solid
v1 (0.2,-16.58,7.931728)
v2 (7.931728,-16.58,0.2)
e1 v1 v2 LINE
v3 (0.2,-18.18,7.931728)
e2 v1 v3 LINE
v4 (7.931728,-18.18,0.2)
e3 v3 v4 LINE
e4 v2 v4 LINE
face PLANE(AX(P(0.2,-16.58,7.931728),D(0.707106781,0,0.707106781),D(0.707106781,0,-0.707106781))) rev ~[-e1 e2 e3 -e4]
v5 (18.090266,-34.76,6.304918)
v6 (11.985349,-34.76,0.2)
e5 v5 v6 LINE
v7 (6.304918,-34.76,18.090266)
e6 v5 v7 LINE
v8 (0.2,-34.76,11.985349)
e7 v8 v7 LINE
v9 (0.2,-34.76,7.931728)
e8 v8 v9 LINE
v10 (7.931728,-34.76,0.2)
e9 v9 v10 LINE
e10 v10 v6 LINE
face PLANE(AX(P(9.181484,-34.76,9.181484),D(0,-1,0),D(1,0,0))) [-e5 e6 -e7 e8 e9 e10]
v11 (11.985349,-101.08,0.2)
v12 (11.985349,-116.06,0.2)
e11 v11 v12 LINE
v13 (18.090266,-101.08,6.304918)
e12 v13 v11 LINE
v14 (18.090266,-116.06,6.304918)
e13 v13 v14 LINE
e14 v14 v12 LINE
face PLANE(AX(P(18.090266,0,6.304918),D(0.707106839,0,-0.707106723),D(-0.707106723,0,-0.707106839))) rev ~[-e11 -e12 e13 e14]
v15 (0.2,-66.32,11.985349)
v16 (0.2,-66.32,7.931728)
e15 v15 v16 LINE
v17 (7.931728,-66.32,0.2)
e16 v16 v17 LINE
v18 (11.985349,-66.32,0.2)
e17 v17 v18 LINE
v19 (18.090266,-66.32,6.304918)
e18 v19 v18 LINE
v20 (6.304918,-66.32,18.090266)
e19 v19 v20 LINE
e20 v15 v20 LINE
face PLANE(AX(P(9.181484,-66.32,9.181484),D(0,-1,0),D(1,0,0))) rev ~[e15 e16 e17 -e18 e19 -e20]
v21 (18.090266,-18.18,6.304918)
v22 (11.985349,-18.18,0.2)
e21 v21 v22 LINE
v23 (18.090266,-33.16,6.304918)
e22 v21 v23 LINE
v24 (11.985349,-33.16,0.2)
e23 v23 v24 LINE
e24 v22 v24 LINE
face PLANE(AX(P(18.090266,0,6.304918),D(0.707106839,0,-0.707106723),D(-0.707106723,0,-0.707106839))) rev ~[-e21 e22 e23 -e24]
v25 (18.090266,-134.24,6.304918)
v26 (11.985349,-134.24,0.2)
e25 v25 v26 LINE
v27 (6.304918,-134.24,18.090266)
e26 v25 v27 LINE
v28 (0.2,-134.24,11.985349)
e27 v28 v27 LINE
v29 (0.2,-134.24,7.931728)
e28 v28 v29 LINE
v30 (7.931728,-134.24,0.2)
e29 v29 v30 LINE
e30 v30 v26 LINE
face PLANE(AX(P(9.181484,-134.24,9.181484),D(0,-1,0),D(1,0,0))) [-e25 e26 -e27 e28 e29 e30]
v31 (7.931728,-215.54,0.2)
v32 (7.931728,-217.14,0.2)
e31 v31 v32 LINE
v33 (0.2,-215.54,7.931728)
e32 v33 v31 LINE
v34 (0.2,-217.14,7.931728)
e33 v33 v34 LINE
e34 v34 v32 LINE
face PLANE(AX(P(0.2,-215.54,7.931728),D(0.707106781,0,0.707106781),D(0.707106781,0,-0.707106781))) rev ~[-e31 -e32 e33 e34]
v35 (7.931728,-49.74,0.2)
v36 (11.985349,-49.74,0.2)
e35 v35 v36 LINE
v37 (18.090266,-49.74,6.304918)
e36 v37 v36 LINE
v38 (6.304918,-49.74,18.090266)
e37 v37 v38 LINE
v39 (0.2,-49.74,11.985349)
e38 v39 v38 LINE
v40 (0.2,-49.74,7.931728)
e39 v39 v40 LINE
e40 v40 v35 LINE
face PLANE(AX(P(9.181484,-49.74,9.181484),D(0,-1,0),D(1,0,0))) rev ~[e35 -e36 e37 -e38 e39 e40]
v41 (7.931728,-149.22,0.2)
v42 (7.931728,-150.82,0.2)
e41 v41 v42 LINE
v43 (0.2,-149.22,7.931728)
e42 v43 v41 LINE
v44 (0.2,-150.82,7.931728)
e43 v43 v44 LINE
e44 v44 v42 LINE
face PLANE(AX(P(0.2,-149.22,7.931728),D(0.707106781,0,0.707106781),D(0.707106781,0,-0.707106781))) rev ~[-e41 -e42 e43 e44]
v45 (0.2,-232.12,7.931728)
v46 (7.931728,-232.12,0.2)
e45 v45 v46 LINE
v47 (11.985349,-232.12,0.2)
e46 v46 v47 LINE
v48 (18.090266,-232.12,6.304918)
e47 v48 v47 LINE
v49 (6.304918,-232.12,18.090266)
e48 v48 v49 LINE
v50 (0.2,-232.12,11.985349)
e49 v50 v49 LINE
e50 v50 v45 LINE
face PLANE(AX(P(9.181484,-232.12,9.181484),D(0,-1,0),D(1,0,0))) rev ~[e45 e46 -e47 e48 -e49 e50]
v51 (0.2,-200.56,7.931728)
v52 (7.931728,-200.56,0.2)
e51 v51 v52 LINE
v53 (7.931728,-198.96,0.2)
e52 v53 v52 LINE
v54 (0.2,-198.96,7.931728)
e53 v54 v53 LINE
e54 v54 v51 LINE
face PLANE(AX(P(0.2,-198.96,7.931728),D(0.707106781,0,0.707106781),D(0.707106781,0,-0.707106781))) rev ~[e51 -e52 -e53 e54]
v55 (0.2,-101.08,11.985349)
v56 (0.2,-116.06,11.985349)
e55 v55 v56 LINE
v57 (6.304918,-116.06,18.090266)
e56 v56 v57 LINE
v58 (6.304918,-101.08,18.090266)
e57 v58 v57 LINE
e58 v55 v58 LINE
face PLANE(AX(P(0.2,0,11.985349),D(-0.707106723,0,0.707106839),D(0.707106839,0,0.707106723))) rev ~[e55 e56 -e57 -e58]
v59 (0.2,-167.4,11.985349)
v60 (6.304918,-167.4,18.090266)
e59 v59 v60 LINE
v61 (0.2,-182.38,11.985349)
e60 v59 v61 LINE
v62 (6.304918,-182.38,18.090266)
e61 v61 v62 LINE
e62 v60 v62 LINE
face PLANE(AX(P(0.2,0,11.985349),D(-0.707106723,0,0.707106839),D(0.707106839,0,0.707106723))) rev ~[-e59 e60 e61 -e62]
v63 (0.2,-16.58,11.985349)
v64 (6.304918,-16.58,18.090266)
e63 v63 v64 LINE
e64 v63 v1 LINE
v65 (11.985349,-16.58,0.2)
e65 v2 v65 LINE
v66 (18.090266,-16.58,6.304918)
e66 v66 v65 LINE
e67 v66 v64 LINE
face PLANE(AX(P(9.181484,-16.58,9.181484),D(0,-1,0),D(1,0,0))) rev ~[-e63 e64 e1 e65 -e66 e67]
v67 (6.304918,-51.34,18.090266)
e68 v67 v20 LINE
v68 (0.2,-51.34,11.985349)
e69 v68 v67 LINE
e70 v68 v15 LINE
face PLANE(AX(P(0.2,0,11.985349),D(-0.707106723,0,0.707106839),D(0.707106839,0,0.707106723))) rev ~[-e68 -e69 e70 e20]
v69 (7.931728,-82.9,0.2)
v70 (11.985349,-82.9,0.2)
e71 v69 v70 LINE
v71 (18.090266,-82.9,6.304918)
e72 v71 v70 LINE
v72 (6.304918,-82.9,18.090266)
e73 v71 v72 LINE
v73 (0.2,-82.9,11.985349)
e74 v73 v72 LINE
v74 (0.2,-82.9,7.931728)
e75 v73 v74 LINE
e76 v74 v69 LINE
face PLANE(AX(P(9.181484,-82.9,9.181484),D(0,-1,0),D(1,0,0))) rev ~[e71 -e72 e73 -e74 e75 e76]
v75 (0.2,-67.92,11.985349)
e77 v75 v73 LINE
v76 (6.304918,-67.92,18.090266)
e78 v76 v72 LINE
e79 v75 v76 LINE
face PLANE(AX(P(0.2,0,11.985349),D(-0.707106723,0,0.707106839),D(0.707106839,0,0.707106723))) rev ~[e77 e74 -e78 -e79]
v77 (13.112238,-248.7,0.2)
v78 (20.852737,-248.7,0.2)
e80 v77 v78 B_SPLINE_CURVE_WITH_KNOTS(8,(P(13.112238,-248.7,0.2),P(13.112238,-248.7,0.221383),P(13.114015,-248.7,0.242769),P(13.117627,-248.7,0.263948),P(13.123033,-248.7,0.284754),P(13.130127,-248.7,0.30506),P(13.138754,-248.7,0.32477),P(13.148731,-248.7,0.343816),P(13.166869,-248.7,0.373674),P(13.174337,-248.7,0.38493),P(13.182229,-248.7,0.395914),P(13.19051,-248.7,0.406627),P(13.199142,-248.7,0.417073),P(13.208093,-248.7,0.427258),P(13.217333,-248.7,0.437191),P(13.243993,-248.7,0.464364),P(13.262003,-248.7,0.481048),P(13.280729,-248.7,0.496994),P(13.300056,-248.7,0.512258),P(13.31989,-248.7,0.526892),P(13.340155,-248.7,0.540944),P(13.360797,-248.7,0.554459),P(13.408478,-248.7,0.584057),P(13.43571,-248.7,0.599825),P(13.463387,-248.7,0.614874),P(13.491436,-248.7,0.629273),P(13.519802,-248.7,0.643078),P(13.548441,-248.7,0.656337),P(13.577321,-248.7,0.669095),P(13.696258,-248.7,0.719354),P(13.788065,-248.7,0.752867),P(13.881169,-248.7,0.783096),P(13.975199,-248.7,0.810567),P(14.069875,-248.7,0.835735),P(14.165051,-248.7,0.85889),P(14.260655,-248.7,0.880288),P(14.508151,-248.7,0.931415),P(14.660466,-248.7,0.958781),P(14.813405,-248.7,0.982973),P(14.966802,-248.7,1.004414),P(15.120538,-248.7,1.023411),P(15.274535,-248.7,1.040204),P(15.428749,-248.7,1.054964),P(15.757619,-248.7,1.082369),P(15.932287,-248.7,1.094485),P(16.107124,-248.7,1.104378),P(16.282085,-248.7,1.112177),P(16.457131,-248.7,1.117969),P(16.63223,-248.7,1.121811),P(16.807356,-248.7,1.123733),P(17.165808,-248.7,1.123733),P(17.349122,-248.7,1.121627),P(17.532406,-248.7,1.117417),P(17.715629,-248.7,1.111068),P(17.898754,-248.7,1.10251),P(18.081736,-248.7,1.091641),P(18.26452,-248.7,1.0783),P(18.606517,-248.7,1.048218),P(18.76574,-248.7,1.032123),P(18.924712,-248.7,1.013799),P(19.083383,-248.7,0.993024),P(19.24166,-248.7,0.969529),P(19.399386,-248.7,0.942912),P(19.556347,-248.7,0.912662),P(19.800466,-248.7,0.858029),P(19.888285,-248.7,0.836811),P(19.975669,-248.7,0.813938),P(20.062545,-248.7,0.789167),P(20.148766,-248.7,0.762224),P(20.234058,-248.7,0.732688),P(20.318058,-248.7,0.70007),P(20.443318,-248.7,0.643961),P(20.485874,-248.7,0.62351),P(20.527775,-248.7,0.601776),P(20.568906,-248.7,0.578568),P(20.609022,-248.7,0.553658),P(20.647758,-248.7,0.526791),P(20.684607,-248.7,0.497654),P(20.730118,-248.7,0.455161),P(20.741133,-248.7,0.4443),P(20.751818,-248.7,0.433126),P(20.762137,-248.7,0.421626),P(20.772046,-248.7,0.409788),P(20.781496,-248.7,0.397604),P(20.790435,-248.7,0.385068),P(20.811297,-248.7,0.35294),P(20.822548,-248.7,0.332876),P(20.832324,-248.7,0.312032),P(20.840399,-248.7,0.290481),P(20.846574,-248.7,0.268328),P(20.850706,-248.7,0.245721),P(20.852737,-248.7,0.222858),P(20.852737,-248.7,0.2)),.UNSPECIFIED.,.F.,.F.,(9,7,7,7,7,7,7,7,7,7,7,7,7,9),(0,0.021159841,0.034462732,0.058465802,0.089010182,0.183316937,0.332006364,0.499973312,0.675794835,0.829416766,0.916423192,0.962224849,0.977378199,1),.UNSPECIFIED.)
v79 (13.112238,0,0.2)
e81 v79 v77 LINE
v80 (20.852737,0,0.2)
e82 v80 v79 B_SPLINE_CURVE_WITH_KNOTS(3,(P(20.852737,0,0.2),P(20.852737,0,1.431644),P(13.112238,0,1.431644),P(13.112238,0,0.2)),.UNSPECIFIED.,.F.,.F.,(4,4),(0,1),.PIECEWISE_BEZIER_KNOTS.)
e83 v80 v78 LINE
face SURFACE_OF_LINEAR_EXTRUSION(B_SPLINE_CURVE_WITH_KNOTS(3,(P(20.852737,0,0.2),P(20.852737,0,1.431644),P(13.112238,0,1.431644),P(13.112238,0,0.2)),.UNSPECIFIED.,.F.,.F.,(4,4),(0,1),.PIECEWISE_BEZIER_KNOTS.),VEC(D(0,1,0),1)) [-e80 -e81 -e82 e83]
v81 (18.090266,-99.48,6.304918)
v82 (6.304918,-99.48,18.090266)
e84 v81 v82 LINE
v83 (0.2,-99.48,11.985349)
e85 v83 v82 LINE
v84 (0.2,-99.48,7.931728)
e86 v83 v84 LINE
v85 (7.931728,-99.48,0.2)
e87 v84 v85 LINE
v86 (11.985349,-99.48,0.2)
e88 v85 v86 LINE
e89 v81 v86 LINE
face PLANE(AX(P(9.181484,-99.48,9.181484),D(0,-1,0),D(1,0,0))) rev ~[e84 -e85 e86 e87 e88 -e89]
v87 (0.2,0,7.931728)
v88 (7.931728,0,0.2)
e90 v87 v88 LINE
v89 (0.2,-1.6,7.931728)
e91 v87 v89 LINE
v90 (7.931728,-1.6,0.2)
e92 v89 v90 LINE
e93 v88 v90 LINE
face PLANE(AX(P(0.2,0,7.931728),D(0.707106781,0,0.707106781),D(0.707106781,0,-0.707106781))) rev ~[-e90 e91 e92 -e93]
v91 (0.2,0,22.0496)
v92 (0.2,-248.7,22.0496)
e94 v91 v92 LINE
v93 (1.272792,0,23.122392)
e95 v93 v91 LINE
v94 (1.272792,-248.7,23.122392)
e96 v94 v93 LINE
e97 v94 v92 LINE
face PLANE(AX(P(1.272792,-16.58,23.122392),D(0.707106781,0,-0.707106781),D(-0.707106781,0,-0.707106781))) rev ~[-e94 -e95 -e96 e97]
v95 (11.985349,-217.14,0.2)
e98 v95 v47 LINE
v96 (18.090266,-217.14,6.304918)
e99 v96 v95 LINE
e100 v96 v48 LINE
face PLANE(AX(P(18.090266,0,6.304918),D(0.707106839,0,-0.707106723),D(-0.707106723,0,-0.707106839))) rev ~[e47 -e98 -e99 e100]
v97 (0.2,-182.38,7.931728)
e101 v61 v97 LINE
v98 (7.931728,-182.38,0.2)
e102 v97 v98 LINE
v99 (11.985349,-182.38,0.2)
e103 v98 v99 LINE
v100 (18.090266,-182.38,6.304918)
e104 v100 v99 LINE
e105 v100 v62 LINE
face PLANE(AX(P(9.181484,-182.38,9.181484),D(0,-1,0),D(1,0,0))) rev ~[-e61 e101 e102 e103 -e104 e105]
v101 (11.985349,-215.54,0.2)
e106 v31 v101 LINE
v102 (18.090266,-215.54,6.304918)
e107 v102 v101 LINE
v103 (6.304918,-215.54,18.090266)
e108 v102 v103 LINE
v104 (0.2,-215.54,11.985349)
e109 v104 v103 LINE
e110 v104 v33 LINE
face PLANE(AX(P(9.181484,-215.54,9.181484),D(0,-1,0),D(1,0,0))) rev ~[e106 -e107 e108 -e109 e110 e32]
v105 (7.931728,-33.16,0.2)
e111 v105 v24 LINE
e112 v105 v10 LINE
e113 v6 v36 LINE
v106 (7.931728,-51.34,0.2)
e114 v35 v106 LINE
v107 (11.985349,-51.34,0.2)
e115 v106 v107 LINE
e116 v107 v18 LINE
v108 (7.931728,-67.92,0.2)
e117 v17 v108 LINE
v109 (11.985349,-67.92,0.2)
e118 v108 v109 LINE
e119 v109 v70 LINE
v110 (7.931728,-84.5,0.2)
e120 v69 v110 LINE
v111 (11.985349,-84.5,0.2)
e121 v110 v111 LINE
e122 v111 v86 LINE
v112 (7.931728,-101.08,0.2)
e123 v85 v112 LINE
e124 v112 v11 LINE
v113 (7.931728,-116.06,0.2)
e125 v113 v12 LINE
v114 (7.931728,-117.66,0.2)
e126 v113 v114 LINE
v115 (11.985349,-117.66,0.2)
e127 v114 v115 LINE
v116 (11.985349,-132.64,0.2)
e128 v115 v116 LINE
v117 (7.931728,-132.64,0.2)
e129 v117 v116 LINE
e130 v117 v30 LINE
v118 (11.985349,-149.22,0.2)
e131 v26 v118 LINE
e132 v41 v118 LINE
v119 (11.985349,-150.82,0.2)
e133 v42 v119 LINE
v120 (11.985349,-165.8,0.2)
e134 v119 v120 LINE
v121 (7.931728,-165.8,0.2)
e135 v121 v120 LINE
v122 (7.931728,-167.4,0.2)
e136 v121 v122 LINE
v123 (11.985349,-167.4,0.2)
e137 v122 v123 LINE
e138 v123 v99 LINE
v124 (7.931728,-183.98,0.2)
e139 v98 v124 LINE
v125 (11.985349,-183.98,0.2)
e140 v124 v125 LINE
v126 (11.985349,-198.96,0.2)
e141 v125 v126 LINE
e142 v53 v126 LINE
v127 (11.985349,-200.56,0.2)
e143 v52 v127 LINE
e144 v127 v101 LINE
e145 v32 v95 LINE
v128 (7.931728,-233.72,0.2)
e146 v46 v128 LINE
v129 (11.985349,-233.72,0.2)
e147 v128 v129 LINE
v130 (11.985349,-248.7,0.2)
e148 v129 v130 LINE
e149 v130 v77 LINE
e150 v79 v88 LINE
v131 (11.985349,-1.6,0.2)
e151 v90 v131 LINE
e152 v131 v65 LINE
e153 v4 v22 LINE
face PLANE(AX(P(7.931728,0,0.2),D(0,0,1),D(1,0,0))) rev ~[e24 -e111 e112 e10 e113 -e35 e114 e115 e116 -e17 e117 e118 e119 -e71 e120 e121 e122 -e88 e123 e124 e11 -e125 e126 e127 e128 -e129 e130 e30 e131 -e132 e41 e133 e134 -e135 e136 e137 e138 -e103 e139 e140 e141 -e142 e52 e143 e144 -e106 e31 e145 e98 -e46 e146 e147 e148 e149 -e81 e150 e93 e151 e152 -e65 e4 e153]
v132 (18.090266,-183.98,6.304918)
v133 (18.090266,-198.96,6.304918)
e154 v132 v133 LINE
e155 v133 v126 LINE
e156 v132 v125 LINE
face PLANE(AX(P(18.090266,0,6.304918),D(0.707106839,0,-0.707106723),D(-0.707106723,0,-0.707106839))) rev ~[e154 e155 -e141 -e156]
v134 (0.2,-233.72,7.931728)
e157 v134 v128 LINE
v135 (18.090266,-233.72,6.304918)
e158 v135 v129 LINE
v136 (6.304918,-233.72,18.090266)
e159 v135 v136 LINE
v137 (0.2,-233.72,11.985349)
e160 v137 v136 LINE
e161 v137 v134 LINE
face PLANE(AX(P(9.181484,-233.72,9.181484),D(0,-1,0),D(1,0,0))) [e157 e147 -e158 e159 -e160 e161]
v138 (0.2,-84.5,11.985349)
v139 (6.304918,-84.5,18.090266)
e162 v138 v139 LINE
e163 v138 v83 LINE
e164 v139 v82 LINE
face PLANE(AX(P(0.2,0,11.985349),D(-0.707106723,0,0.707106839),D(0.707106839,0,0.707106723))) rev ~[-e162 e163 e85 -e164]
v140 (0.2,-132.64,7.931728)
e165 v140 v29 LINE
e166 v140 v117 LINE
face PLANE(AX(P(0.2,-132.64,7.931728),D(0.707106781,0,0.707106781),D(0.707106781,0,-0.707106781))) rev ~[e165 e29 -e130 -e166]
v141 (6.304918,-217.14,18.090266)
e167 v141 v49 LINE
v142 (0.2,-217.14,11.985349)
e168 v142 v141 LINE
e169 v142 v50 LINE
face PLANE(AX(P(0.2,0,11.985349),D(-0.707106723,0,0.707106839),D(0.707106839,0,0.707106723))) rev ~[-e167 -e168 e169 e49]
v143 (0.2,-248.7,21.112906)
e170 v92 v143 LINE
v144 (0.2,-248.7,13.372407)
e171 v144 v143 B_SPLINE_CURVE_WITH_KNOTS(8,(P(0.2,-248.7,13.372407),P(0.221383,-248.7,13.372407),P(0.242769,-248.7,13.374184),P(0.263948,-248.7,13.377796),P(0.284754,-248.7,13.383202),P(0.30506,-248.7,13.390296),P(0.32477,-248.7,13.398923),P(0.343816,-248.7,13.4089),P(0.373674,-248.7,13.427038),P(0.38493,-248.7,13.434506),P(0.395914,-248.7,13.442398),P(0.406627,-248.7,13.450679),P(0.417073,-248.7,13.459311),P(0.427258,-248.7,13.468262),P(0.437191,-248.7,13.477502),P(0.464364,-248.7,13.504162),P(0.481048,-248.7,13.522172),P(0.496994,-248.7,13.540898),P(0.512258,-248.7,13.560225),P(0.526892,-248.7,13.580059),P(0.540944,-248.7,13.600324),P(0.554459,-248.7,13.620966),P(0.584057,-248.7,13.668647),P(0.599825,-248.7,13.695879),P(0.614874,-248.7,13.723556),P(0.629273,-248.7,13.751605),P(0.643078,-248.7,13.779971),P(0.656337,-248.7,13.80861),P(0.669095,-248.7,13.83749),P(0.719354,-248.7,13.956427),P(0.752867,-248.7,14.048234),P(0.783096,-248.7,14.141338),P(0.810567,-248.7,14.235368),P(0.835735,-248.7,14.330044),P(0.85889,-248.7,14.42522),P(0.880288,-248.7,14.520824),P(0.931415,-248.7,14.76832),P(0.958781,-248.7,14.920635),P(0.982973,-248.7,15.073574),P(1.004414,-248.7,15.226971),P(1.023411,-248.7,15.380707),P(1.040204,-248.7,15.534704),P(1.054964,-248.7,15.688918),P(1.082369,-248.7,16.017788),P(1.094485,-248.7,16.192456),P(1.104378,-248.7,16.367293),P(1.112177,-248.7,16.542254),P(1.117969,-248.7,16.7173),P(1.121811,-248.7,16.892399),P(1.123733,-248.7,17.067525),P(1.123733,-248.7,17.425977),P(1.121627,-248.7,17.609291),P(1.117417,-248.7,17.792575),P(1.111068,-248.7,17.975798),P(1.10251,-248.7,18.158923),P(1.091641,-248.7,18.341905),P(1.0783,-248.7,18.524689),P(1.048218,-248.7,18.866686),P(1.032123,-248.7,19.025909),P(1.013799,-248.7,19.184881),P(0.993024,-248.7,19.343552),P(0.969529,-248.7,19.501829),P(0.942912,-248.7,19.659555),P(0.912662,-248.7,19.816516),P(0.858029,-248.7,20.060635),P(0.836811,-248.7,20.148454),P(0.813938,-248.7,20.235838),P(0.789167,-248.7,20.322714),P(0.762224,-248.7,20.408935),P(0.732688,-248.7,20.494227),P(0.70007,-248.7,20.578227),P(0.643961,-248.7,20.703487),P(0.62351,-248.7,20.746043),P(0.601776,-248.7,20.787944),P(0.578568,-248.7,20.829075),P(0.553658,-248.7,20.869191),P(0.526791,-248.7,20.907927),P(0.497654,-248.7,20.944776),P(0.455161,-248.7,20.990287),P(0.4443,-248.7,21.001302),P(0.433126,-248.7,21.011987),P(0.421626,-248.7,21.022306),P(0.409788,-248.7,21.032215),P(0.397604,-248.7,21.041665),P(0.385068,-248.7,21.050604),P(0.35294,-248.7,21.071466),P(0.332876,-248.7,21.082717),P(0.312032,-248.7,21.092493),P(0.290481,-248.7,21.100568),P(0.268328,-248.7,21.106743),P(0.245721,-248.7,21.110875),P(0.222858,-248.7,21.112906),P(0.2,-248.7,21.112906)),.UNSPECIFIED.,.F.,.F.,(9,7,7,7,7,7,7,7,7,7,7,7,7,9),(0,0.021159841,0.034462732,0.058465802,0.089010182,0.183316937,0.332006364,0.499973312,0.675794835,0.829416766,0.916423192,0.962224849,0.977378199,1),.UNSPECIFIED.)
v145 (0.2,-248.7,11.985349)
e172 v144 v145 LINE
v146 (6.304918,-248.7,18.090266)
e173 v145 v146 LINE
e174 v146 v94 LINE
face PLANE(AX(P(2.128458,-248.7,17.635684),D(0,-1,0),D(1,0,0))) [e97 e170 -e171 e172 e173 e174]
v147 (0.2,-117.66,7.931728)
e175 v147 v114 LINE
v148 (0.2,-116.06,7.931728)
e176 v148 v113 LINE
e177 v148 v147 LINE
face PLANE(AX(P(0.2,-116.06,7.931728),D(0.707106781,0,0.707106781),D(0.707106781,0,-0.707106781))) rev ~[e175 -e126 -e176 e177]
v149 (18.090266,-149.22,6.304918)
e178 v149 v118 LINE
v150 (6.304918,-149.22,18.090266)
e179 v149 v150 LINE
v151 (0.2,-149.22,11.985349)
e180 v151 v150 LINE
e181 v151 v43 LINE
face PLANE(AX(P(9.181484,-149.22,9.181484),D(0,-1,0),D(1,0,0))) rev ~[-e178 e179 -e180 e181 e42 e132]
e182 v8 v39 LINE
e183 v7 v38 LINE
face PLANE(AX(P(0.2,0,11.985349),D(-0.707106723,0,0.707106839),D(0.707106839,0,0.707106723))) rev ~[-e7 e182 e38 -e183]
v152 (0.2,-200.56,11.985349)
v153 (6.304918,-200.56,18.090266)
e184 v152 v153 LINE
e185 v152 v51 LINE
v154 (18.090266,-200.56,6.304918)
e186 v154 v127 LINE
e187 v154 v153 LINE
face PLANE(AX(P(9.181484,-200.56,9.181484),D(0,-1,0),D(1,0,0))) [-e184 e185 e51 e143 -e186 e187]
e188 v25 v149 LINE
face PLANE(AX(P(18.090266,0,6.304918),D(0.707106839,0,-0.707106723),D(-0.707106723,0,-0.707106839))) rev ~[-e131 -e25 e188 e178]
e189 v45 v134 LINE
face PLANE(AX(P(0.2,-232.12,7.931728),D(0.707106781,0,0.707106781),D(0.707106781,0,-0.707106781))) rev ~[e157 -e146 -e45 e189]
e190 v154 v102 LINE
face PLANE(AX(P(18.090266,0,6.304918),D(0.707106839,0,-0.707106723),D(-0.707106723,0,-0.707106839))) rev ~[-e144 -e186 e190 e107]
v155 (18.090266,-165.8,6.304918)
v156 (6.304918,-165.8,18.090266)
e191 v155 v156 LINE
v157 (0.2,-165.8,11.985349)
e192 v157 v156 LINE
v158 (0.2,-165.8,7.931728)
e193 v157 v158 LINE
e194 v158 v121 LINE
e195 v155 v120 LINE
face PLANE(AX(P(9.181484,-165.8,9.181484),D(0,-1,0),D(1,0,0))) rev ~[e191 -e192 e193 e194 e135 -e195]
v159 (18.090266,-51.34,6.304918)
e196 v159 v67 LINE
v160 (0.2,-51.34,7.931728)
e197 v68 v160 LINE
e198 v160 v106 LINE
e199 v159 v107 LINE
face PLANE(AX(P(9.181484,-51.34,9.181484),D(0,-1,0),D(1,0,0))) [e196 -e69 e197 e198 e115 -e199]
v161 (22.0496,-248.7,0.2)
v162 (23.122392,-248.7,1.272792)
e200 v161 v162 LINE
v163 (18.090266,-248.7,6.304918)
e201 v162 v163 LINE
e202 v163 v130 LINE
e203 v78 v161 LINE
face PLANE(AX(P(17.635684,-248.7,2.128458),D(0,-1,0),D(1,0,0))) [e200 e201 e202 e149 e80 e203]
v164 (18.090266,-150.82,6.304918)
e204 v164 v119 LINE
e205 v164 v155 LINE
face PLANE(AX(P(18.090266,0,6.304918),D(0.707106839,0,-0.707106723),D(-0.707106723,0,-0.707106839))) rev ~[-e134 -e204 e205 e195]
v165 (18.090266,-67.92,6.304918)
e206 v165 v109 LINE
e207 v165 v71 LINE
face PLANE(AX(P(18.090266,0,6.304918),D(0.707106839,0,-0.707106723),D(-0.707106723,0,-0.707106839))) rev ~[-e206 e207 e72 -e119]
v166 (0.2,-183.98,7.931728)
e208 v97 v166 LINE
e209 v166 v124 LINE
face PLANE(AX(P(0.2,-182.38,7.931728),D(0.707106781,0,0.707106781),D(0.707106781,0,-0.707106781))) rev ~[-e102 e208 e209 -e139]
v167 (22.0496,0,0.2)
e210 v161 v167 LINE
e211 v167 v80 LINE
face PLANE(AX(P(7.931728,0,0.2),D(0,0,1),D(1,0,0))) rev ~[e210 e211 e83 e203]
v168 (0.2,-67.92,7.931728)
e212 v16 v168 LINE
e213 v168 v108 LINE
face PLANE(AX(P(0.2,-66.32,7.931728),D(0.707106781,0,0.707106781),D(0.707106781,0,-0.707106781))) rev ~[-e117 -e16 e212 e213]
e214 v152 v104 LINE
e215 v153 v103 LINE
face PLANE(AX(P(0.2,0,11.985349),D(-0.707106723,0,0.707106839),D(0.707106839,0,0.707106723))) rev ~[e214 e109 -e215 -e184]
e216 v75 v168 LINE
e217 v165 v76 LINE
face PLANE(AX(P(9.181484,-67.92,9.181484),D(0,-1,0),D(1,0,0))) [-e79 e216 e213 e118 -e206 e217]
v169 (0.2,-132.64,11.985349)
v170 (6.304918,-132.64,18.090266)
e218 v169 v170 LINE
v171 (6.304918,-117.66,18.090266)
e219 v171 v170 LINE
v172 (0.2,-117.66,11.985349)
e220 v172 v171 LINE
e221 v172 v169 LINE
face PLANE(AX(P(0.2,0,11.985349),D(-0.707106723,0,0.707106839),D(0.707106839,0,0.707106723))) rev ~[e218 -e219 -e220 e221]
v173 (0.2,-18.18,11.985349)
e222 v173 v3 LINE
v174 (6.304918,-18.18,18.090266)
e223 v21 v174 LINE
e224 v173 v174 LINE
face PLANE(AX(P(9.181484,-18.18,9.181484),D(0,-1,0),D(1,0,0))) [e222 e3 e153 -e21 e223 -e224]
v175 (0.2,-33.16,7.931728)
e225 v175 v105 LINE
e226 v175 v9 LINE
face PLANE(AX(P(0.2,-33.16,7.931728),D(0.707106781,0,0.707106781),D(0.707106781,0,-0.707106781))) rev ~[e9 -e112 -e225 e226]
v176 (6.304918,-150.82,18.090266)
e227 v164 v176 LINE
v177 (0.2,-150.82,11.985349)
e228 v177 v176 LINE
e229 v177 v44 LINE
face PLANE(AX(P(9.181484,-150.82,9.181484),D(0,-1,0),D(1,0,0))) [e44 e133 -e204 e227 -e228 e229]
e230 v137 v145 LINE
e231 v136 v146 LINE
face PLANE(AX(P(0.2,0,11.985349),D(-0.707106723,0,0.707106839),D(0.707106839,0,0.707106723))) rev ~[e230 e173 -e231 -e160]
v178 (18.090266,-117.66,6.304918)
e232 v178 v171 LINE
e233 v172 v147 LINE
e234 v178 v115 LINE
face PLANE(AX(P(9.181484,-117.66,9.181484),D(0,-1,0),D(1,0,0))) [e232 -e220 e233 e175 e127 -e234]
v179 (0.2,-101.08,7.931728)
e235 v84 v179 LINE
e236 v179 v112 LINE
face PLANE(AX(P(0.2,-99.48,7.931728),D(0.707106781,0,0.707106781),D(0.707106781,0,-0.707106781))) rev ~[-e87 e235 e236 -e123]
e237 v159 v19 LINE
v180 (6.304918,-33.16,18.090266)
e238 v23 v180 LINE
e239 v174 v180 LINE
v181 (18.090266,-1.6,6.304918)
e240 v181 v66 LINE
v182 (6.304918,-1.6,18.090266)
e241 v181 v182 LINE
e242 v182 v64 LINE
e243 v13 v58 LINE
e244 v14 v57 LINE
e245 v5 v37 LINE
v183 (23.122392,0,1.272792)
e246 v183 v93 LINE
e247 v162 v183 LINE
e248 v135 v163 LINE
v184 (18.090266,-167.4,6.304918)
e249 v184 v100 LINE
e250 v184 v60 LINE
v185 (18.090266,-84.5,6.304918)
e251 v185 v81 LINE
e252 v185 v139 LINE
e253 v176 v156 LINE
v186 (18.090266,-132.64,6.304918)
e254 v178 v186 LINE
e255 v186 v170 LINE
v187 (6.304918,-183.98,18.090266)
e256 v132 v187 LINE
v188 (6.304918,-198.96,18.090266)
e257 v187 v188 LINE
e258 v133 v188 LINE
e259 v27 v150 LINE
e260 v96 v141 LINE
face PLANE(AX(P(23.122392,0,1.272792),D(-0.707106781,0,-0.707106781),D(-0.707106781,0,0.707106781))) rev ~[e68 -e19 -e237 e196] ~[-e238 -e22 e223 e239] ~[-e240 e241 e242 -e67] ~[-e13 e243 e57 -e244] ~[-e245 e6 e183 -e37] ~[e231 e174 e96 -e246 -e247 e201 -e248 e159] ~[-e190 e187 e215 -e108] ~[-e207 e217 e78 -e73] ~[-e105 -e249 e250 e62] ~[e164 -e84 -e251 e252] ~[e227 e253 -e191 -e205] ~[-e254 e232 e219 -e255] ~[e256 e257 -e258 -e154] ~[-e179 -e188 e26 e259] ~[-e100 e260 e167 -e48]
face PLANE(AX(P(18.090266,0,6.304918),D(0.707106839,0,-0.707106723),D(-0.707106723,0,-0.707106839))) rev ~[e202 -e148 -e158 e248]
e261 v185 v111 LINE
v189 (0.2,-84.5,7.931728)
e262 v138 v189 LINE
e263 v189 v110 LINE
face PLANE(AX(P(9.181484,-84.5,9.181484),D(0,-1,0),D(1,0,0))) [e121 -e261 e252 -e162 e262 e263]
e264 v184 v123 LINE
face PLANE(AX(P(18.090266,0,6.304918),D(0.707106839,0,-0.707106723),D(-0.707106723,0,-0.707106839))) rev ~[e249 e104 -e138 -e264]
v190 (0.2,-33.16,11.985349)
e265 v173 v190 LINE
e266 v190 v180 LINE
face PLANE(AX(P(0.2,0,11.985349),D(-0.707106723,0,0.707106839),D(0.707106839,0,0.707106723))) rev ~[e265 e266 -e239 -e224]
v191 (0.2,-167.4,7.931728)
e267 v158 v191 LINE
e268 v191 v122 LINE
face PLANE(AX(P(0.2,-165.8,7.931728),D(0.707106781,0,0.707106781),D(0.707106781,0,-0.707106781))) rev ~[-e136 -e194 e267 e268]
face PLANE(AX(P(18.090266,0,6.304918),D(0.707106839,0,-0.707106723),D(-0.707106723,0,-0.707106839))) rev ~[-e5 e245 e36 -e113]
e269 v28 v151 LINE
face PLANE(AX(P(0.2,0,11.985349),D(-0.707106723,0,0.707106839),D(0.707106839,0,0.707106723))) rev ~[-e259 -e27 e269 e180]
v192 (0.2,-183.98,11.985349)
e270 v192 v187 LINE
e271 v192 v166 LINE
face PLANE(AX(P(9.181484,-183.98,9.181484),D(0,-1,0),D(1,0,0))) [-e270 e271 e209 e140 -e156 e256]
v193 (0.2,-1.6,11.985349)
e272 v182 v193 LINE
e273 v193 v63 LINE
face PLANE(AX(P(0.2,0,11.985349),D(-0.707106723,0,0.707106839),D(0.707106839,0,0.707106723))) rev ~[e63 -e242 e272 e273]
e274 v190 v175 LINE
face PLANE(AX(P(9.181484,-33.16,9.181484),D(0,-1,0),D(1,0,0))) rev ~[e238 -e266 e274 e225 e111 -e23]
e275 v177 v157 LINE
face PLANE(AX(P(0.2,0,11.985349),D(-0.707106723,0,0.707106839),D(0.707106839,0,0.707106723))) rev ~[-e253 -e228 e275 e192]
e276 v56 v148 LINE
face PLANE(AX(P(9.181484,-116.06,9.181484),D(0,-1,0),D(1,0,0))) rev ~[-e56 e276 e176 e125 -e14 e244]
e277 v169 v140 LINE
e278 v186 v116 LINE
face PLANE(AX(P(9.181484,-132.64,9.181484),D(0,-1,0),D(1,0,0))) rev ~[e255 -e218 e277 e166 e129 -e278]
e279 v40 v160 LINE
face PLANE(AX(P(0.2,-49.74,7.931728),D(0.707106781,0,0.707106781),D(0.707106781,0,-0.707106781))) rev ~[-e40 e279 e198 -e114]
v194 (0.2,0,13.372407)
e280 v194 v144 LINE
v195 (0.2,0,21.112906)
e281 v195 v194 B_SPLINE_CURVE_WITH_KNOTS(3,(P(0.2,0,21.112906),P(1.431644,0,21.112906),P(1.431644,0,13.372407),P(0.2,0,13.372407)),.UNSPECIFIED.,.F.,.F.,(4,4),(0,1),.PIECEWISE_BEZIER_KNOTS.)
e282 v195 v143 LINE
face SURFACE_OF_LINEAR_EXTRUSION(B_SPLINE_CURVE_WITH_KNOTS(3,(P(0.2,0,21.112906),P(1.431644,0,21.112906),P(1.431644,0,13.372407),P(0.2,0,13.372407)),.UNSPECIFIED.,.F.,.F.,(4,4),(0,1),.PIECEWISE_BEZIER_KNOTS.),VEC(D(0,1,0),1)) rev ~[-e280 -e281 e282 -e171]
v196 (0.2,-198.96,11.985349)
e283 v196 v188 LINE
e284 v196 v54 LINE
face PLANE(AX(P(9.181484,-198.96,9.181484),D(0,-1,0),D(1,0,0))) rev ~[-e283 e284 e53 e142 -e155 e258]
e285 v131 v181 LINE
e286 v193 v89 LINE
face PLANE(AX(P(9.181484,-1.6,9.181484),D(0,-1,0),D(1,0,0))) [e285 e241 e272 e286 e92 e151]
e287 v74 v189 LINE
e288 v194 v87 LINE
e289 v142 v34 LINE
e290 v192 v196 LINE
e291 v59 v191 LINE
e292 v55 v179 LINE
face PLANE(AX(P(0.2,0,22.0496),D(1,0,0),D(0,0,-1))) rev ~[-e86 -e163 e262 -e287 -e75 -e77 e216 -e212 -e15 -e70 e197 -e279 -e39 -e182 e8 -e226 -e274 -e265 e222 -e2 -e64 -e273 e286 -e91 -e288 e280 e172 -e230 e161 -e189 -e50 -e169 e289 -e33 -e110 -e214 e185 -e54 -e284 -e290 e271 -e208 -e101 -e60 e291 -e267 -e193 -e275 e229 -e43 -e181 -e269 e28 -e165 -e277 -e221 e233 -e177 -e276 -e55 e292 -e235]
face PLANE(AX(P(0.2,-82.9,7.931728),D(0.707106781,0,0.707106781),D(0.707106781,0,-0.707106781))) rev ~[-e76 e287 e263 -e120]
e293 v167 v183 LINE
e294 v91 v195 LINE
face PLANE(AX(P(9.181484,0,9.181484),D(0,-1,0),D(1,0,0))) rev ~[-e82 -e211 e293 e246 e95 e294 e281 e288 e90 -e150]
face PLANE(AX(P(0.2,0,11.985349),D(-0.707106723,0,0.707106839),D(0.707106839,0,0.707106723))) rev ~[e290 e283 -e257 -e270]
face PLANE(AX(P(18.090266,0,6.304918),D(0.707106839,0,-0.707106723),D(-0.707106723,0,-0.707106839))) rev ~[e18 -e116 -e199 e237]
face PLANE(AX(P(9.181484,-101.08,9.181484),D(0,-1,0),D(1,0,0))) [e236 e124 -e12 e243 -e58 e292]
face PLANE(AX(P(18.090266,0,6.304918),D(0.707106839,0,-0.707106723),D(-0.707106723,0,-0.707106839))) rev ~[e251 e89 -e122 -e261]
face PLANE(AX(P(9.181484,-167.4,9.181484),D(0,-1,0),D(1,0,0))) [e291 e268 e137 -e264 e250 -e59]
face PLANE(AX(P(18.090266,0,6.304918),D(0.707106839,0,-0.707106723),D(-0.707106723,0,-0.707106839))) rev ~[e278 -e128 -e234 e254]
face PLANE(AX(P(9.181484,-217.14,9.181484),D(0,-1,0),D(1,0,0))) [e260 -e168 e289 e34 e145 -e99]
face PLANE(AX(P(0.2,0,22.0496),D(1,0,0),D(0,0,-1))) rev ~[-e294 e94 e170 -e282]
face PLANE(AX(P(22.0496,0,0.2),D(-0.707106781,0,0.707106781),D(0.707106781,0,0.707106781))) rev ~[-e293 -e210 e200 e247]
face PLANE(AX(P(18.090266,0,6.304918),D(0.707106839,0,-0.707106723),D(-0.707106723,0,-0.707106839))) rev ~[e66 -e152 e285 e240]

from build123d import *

# Parameters (mm, degrees)
PAD001_DEPTH        = 1.6
PAD002_DEPTH        = 248.7
LINEARPATTERN_COUNT = 15
LINEARPATTERN_PITCH = 16.58
POCKET_DEPTH        = 248.701


with BuildPart() as part:
    # Sketch001 → Pad001 (new body)
    with BuildSketch(Plane.XZ):
        Polygon((1.272792, 23.122392), (0.2, 22.0496), (0.2, 7.931728), (7.931728, 0.2), (22.0496, 0.2), (23.122392, 1.272792), align=None)
    pad001 = extrude(amount=PAD001_DEPTH)

    # Sketch002 → Pad002 (join)
    with BuildSketch(Plane.XZ):
        Polygon((1.272792, 23.122392), (0.2, 22.0496), (0.2, 11.985349), (6.304918, 18.090266), align=None)
        Polygon((23.122392, 1.272792), (18.090266, 6.304918), (11.985349, 0.2), (22.0496, 0.2), align=None)
    extrude(amount=PAD002_DEPTH)

    # LinearPattern: Pad001 ×15
    with Locations(*[(0, -i * LINEARPATTERN_PITCH, 0) for i in range(1, LINEARPATTERN_COUNT)]):
        add(pad001)

    # Sketch003 → Pocket (cut, through all)
    with BuildSketch(Plane.XZ):
        with BuildLine():
            add(Edge.make_bspline(
                [(0.2, 21.112906), (1.431644, 21.112906), (1.431644, 13.372407), (0.2, 13.372407)],
                knots=[0, 0, 0, 0, 1, 1, 1, 1], degree=3))
            Line((0.2, 13.372407), (0.2, 21.112906))
        make_face()
        with BuildLine():
            add(Edge.make_bspline(
                [(20.852737, 0.2), (20.852737, 1.431644), (13.112238, 1.431644), (13.112238, 0.2)],
                knots=[0, 0, 0, 0, 1, 1, 1, 1], degree=3))
            Line((13.112238, 0.2), (20.852737, 0.2))
        make_face()
    extrude(amount=POCKET_DEPTH, mode=Mode.SUBTRACT)


solid = part.part
